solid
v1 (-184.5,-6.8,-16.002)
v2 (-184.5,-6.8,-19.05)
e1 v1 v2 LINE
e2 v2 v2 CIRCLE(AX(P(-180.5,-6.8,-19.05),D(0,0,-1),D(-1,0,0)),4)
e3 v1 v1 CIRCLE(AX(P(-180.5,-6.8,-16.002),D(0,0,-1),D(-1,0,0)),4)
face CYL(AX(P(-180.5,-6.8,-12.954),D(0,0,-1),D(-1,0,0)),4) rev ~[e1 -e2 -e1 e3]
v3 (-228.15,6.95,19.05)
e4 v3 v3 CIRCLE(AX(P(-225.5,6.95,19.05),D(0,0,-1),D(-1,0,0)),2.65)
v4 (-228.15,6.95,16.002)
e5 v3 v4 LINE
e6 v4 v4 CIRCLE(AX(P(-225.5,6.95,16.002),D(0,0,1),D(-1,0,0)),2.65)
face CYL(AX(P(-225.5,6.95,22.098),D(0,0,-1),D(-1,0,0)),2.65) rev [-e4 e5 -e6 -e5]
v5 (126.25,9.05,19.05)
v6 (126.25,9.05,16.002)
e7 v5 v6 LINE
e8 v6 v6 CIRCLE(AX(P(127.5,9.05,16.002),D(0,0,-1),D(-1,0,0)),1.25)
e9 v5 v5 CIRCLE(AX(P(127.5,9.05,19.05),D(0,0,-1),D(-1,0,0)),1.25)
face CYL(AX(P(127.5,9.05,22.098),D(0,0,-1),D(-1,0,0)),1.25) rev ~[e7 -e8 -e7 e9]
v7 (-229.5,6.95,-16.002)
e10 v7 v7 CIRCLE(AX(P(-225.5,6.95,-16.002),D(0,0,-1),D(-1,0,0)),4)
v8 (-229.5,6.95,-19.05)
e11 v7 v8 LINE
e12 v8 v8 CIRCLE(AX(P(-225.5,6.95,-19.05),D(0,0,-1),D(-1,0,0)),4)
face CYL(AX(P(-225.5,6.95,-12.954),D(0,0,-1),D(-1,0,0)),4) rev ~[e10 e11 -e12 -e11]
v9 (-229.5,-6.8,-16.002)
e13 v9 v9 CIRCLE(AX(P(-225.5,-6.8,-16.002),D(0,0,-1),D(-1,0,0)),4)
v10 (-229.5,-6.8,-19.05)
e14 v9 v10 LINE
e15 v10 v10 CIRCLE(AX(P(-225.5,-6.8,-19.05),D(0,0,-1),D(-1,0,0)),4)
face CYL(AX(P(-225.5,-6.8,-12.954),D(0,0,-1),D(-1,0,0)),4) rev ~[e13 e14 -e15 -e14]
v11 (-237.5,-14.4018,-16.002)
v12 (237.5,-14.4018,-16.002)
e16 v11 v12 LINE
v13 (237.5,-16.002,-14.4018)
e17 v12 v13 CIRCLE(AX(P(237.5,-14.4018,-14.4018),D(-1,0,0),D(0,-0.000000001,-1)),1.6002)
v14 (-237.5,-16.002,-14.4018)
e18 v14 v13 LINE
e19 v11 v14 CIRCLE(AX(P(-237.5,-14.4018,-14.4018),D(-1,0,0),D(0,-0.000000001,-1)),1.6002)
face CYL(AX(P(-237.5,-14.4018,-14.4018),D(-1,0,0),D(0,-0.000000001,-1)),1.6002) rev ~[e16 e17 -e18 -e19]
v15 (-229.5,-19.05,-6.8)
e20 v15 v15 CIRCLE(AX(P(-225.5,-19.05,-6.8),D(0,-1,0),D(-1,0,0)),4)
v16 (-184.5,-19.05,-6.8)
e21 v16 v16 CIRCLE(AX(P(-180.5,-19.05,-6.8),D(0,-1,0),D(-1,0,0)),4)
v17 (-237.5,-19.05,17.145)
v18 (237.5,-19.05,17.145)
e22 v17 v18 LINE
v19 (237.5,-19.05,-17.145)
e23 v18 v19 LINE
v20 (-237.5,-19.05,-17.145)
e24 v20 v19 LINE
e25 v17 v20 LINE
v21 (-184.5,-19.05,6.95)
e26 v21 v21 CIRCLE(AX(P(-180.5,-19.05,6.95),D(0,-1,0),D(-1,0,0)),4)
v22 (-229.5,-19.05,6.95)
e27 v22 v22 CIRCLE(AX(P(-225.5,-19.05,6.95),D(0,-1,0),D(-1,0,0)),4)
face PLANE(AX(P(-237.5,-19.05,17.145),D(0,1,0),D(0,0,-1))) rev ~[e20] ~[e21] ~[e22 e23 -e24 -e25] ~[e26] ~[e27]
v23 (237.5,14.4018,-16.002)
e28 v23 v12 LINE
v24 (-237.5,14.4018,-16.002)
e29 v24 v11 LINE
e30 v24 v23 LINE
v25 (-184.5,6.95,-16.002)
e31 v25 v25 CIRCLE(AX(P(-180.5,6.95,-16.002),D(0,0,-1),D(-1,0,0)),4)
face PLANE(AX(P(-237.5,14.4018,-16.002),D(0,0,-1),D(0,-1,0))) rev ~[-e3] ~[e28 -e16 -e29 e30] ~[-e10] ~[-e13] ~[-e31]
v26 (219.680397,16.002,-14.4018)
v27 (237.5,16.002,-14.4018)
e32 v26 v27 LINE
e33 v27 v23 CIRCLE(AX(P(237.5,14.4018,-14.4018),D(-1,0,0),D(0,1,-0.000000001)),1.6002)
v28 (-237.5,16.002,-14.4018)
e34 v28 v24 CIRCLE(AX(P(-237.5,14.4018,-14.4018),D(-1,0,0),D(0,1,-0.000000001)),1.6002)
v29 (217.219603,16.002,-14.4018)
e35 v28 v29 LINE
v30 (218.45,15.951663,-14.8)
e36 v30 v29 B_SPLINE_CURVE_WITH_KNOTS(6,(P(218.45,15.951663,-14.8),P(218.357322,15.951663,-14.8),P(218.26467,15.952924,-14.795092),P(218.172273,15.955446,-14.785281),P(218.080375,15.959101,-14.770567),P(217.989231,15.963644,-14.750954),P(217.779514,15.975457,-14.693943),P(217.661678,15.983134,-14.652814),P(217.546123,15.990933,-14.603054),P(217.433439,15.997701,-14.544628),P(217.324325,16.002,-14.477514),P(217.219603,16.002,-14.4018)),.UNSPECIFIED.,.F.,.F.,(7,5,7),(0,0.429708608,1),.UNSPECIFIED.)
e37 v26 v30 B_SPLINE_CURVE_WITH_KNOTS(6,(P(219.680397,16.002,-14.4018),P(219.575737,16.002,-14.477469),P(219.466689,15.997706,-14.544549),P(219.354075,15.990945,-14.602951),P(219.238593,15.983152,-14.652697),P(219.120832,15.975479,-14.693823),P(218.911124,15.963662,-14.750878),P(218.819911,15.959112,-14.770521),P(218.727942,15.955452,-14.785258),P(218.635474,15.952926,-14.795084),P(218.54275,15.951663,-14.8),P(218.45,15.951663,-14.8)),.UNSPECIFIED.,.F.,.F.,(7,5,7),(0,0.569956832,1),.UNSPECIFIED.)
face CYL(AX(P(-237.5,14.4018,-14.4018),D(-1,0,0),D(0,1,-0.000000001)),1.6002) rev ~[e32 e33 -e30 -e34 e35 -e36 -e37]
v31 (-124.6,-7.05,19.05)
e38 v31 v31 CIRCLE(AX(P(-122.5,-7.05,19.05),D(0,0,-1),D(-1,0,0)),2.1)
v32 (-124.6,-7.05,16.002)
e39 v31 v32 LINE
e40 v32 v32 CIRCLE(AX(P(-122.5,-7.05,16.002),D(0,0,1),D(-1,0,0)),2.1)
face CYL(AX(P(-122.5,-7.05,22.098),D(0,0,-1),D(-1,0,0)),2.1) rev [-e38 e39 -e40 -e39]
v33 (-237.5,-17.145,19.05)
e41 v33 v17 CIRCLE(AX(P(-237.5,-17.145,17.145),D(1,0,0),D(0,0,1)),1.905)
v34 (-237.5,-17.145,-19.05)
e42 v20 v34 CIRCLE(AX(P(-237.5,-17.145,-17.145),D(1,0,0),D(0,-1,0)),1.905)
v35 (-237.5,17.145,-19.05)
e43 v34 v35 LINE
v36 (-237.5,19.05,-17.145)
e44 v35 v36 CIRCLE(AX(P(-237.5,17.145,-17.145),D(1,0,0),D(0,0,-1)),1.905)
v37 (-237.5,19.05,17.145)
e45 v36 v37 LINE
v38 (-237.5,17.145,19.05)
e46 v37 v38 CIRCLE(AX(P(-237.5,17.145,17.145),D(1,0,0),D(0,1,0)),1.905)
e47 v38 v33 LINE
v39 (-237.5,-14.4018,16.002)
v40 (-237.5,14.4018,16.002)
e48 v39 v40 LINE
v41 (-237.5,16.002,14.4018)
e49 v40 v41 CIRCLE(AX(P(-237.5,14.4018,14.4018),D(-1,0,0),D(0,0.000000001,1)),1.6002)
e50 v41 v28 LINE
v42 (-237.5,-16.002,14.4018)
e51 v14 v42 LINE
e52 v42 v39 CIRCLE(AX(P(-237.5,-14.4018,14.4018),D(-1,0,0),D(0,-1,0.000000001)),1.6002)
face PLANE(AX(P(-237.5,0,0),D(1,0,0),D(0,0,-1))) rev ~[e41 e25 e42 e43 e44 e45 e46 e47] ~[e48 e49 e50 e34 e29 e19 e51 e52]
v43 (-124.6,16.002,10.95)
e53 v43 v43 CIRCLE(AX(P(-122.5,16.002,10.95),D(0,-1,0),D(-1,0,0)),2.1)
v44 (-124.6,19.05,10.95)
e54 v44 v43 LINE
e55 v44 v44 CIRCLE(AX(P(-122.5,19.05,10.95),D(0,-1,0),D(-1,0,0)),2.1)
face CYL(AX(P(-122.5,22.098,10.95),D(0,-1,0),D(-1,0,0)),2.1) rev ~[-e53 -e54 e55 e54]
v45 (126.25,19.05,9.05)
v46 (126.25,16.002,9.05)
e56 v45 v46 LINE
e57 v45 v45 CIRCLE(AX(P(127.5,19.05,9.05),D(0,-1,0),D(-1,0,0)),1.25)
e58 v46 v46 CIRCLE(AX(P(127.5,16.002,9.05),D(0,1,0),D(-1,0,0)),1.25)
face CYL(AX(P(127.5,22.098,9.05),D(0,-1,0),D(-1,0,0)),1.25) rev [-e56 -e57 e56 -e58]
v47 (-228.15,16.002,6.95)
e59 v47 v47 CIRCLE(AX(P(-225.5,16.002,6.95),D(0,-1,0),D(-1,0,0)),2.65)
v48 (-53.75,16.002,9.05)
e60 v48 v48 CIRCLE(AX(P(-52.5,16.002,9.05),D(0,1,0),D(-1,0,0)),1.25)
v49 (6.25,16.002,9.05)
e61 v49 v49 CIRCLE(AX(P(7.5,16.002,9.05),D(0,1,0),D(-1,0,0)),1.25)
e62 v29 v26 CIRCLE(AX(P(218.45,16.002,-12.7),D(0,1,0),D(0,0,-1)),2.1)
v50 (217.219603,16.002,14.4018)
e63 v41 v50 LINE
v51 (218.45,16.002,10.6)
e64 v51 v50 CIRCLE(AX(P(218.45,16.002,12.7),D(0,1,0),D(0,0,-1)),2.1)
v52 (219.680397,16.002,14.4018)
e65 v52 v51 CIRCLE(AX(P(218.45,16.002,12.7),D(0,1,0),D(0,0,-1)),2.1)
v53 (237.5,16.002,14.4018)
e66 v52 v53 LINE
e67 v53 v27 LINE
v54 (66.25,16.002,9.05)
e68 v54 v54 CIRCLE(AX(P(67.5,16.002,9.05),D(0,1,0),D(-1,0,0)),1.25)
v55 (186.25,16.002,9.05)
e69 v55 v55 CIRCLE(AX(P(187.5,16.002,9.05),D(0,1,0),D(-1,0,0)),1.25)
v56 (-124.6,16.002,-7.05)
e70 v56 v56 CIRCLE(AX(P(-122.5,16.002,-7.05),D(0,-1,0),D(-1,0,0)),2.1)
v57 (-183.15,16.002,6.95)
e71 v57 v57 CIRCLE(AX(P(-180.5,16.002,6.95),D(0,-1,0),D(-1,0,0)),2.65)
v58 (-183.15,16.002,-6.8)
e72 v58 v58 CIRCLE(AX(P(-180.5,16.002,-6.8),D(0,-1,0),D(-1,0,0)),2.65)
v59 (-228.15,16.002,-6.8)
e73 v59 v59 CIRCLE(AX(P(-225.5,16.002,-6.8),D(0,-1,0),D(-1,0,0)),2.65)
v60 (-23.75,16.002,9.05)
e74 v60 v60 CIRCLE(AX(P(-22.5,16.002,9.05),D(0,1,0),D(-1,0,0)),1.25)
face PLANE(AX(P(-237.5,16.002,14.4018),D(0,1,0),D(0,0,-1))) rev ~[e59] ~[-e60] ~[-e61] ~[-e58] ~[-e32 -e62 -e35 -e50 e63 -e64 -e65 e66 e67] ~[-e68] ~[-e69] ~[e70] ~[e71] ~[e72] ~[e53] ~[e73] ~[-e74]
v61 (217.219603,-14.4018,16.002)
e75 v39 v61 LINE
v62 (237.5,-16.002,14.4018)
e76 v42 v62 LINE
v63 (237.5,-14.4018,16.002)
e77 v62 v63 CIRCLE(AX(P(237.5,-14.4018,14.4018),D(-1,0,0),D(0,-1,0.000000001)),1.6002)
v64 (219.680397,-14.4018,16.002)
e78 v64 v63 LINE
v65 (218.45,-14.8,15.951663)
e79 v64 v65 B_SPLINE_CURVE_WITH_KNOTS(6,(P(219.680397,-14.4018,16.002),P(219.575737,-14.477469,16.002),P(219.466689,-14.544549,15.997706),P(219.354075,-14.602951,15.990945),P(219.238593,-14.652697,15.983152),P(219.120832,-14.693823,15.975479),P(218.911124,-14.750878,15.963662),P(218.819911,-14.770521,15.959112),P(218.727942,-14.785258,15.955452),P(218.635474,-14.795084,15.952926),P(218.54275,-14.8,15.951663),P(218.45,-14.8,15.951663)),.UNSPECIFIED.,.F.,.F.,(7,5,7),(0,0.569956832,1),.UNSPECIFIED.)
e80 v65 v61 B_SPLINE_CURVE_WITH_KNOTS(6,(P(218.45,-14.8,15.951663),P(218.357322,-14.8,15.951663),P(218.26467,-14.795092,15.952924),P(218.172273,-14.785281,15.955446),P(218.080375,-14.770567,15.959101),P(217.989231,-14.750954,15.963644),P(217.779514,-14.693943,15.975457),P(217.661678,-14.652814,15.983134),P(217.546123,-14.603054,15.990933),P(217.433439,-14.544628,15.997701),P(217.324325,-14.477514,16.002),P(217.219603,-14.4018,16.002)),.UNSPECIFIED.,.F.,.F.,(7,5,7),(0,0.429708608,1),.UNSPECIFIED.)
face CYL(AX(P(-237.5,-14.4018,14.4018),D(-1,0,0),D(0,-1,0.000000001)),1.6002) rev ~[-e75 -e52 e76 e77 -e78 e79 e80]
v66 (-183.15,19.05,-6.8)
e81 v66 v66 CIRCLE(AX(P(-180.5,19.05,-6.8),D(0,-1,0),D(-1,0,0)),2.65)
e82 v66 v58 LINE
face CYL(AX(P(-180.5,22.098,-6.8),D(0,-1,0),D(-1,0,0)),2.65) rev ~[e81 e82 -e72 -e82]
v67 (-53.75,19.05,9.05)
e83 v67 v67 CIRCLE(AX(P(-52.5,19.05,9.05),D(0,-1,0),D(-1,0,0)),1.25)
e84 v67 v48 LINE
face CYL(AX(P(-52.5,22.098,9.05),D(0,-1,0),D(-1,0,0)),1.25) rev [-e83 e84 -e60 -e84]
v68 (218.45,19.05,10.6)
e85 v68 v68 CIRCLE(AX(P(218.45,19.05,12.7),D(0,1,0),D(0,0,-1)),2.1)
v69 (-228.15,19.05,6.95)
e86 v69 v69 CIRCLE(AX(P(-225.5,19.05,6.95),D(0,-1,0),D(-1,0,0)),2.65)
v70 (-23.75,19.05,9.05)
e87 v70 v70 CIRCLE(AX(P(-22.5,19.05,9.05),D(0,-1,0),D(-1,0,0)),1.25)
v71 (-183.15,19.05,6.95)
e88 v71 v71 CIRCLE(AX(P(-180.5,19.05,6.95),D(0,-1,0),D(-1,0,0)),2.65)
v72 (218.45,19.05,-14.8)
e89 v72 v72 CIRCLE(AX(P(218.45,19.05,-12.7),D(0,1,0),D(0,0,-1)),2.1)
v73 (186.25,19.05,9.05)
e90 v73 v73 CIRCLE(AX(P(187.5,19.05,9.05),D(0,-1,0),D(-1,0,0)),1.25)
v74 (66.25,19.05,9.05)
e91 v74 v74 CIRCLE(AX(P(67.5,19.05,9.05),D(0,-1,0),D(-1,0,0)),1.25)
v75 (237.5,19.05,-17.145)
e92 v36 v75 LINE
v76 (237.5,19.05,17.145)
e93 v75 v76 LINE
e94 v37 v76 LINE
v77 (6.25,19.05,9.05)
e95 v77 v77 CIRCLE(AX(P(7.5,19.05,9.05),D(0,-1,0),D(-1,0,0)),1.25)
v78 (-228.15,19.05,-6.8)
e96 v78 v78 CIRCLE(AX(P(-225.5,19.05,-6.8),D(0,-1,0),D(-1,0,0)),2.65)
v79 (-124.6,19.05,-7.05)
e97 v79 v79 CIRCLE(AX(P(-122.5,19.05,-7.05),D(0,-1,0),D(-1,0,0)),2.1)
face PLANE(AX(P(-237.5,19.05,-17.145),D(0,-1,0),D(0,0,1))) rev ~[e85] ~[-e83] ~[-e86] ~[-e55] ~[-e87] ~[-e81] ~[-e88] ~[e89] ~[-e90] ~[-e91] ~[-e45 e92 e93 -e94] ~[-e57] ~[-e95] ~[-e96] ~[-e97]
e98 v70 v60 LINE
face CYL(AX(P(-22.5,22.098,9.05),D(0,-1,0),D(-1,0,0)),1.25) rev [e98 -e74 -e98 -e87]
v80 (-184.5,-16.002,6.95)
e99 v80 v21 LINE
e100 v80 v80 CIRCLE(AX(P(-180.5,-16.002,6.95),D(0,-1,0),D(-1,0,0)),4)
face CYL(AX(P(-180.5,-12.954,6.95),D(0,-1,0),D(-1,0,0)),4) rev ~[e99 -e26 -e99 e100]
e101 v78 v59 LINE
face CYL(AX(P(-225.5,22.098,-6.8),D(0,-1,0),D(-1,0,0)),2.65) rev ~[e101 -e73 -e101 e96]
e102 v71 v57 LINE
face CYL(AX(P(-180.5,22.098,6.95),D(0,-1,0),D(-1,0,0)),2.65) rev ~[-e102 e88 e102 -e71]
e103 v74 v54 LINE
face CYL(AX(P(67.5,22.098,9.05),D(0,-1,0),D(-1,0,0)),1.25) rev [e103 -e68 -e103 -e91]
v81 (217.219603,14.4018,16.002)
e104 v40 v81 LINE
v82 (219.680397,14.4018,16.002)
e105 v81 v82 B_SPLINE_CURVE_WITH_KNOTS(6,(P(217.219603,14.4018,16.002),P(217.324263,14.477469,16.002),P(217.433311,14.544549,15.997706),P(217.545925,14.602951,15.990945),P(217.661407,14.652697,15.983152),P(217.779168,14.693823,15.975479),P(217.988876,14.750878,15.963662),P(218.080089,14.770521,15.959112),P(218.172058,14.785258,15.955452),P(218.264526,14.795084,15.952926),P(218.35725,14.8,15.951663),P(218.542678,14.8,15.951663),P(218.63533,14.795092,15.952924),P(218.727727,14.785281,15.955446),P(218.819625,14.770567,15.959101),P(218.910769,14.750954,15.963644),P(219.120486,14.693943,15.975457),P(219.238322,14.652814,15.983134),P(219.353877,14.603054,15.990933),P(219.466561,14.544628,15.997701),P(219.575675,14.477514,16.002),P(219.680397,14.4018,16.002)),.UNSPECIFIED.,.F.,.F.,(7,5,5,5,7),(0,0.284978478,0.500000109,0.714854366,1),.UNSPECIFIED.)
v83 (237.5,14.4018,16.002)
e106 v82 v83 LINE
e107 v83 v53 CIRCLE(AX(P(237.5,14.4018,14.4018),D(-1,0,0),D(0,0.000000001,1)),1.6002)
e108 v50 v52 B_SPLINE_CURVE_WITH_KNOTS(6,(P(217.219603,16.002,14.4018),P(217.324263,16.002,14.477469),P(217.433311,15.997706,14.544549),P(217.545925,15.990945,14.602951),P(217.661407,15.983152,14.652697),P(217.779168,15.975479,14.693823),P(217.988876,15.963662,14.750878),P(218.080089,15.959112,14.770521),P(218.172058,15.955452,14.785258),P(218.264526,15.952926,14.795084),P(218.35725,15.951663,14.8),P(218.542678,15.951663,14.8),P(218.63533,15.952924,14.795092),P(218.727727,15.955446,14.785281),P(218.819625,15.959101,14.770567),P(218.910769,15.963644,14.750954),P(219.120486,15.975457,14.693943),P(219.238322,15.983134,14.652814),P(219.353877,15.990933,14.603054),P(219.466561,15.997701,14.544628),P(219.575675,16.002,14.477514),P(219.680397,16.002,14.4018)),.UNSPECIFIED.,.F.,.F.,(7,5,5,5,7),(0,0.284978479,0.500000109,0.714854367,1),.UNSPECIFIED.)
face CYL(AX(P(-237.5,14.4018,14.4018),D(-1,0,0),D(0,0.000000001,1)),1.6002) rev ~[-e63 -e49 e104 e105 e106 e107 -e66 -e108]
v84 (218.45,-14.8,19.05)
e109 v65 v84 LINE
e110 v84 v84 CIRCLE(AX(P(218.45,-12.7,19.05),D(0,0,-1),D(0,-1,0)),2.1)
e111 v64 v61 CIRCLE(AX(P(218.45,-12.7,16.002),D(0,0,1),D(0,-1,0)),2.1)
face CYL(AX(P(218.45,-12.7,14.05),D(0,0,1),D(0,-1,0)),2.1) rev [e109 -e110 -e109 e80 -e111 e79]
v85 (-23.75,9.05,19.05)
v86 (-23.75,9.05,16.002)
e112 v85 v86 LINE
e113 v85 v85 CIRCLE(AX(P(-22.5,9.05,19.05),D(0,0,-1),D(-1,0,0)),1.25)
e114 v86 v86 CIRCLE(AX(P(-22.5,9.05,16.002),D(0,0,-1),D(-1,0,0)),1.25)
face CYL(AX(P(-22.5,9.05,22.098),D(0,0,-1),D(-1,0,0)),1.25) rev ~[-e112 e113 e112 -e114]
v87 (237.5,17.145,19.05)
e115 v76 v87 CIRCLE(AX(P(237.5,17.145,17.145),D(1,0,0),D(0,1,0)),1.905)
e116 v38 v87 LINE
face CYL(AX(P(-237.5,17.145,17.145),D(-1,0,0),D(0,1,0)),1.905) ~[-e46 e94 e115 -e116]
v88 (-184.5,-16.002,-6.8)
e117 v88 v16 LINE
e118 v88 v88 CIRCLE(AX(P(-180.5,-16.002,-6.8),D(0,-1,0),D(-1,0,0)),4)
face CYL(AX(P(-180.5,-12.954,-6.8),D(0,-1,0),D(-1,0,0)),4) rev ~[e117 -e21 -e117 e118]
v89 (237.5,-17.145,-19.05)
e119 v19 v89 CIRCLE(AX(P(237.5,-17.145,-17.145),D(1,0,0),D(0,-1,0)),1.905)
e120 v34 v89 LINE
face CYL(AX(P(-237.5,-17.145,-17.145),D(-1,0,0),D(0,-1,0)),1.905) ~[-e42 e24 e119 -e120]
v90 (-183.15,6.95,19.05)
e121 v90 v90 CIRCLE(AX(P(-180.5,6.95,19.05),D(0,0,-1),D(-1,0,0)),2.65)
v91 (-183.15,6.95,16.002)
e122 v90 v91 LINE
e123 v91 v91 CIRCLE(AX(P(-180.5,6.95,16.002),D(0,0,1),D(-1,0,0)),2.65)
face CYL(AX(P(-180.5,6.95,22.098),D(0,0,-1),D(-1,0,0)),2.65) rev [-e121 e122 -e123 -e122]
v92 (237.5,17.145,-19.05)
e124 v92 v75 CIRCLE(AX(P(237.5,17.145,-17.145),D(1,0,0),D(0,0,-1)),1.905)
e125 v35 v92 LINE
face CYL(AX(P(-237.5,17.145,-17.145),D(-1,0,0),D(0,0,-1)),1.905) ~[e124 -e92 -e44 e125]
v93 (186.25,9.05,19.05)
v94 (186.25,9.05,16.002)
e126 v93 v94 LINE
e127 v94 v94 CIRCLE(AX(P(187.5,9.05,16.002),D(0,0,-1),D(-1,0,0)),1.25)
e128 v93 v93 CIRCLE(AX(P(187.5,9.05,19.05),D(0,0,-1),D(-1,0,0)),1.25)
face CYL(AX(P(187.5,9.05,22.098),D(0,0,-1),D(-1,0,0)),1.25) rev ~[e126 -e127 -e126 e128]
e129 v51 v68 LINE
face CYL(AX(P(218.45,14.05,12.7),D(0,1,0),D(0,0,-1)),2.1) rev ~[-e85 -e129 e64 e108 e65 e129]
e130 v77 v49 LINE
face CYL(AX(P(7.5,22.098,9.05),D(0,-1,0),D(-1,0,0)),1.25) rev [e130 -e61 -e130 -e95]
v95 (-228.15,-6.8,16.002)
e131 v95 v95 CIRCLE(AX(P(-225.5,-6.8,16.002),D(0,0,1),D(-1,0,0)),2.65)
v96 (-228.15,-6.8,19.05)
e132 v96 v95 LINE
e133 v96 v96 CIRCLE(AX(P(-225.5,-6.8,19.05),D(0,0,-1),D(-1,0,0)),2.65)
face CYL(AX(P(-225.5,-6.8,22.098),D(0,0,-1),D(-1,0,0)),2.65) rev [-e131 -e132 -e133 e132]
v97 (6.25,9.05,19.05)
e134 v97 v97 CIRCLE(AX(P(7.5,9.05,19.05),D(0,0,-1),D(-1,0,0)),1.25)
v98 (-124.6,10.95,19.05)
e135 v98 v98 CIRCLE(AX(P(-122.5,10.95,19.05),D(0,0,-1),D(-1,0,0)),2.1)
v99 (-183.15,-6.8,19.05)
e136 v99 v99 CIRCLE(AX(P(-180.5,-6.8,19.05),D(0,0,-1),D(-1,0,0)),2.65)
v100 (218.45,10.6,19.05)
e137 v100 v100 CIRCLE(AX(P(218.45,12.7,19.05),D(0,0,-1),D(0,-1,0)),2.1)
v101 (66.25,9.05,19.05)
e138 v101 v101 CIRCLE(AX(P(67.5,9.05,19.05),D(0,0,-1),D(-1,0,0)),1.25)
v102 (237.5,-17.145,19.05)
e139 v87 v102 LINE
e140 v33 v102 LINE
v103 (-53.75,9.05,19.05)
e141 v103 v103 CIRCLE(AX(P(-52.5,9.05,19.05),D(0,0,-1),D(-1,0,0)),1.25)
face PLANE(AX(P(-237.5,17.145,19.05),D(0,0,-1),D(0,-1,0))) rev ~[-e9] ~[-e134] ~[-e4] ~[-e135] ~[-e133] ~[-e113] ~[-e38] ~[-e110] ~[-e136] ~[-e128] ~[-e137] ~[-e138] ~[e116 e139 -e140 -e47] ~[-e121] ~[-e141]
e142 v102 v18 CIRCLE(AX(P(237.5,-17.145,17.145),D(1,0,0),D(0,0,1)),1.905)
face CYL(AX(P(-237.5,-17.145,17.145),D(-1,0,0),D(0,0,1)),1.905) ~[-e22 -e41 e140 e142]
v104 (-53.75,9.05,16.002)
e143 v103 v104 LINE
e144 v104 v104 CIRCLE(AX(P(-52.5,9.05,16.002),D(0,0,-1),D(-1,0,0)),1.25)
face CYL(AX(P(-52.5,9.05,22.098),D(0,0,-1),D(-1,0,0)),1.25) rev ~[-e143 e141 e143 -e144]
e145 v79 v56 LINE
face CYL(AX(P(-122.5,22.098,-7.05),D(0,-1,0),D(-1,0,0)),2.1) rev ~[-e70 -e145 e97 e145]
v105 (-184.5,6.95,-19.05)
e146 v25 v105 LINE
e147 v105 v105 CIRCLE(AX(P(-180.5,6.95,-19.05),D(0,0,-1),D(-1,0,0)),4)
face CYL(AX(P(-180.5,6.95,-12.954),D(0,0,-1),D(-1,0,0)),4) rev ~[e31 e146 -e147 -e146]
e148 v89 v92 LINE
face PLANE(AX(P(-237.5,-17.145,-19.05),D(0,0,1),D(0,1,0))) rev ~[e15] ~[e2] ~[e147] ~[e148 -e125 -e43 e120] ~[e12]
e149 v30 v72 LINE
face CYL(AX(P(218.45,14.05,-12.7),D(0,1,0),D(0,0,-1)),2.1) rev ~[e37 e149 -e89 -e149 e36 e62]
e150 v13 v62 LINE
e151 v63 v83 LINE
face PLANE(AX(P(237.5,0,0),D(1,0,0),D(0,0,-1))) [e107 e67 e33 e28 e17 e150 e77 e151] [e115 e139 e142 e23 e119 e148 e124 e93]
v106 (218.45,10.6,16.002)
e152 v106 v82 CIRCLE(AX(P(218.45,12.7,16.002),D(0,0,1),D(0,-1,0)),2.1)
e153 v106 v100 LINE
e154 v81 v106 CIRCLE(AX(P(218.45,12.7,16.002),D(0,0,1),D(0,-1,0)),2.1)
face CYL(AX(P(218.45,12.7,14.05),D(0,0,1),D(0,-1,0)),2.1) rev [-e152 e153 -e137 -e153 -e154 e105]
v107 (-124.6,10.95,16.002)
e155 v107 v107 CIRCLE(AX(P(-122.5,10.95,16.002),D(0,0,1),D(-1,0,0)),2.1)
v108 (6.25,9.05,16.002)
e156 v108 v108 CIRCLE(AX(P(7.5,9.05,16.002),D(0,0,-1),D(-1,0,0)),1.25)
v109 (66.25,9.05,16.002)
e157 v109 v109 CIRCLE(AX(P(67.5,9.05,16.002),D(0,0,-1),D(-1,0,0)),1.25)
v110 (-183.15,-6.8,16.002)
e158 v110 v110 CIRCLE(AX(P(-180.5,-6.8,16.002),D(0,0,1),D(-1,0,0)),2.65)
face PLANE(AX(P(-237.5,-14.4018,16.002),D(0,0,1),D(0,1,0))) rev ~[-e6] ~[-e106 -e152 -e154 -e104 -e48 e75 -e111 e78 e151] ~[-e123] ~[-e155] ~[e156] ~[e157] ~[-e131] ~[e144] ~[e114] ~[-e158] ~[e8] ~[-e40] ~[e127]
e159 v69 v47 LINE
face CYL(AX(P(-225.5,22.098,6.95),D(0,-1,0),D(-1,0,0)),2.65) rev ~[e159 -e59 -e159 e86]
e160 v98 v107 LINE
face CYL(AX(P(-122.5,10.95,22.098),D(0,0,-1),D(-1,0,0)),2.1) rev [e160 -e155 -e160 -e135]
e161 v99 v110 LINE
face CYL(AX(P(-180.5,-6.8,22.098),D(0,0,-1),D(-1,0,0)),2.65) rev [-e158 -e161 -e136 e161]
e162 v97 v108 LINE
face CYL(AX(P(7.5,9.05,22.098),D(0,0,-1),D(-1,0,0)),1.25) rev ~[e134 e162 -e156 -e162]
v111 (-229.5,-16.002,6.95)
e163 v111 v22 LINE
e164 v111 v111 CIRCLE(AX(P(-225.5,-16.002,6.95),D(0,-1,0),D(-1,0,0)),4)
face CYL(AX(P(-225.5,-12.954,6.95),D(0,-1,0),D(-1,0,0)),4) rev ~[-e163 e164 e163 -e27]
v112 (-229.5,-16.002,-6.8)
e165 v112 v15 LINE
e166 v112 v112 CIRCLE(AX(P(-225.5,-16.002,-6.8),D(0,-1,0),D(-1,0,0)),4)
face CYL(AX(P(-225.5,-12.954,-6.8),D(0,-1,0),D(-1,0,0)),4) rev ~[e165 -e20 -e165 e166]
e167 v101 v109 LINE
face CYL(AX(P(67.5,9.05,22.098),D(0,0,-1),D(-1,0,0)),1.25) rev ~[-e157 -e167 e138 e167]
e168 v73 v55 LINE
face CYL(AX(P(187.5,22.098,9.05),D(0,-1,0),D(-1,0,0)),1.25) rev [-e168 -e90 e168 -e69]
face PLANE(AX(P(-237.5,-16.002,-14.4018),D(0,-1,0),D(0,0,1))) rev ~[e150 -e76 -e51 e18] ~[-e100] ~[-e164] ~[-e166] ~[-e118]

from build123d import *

# Parameters (mm, degrees)
BOSS_EXTRUDE1_DEPTH                  = 237.5
BOSS_EXTRUDE1_DEPTH_BACK             = 237.5
TAP_DRILL_FOR_M5X0_8_TAP1_D          = 4.2
TAP_DRILL_FOR_M5X0_8_TAP1_DEPTH      = 3.048
TAP_DRILL_FOR_M3X0_5_TAP1_D          = 2.5
TAP_DRILL_FOR_M3X0_5_TAP1_DEPTH      = 3.048
TAP_DRILL_FOR_M5X0_8_TAP2_AT_2_COUNT = 2
TAP_DRILL_FOR_M5X0_8_TAP2_AT_2_PITCH = 25.4
M5_CLEARANCE_HOLE1_D                 = 5.3
M5_CLEARANCE_HOLE1_DEPTH             = 3.048
F_8_0_8_DIAMETER_HOLE1_D             = 8
F_8_0_8_DIAMETER_HOLE1_DEPTH         = 3.048
F_8_0_8_DIAMETER_HOLE2_D             = 8
F_8_0_8_DIAMETER_HOLE2_DEPTH         = 3.048


with BuildPart() as part:
    # Sketch4 → Boss-Extrude1 (new, two sides: drawn at the far end of the back side and taken through both)
    with BuildSketch(Plane(origin=(0, 0, 0), x_dir=(0, 0, -1), z_dir=(1, 0, 0)).offset(-BOSS_EXTRUDE1_DEPTH_BACK)):
        with BuildLine():
            Line((19.05, -17.145), (19.05, 17.145))
            ThreePointArc((19.05, 17.145), (18.492038418, 18.492038418), (17.145, 19.05))
            Line((17.145, 19.05), (-17.145, 19.05))
            ThreePointArc((-17.145, 19.05), (-18.492038418, 18.492038418), (-19.05, 17.145))
            Line((-19.05, 17.145), (-19.05, -17.145))
            ThreePointArc((-19.05, -17.145), (-18.492038418, -18.492038418), (-17.145, -19.05))
            Line((-17.145, -19.05), (17.145, -19.05))
            ThreePointArc((17.145, -19.05), (18.492038418, -18.492038418), (19.05, -17.145))
        make_face()
        with BuildLine():
            Line((16.002, 14.4018), (16.002, -14.4018))
            ThreePointArc((16.002, -14.4018), (15.533312271, -15.533312271), (14.4018, -16.002))
            Line((14.4018, -16.002), (-14.4018, -16.002))
            ThreePointArc((-14.4018, -16.002), (-15.533312271, -15.533312271), (-16.002, -14.4018))
            Line((-16.002, -14.4018), (-16.002, 14.4018))
            ThreePointArc((-16.002, 14.4018), (-15.533312271, 15.533312271), (-14.4018, 16.002))
            Line((-14.4018, 16.002), (14.4018, 16.002))
            ThreePointArc((14.4018, 16.002), (15.533312271, 15.533312271), (16.002, 14.4018))
        make_face(mode=Mode.SUBTRACT)
    extrude(amount=BOSS_EXTRUDE1_DEPTH + BOSS_EXTRUDE1_DEPTH_BACK)

    # Tap Drill for M5x0.8 Tap1
    with Locations(Plane(origin=(0, 19.05, 0), x_dir=(1, 0, 0), z_dir=(0, 1, 0))):
        with Locations((-122.5, 7.05), (-122.5, -10.95)):
            tap_drill_for_m5x0_8_tap1 = Hole(TAP_DRILL_FOR_M5X0_8_TAP1_D / 2, depth=TAP_DRILL_FOR_M5X0_8_TAP1_DEPTH)

    # Tap Drill for M3x0.5 Tap1
    with Locations(Plane.XY.offset(19.05)):
        with Locations((187.5, 9.05), (127.5, 9.05), (67.5, 9.05), (7.5, 9.05), (-52.5, 9.05), (-22.5, 9.05)):
            tap_drill_for_m3x0_5_tap1 = Hole(TAP_DRILL_FOR_M3X0_5_TAP1_D / 2, depth=TAP_DRILL_FOR_M3X0_5_TAP1_DEPTH)

    # Sketch22 → Tap Drill for M5x0.8 Tap2 (revolve, cut)
    with BuildSketch(Plane(origin=(218.45, 12.7, 19.05), x_dir=(0, -1, 0), z_dir=(1, 0, 0))):
        Polygon((0, 0), (0, 6.2618073), (2.1, 5), (2.1, 0), align=None)
    tap_drill_for_m5x0_8_tap2 = revolve(axis=Axis((218.45, 12.7, 25.4), (0, 0, -1)), mode=Mode.SUBTRACT)

    # Tap Drill for M5x0.8 Tap2 at 2: Tap Drill for M5x0.8 Tap2 ×2
    with Locations(*[(0, -i * TAP_DRILL_FOR_M5X0_8_TAP2_AT_2_PITCH, 0) for i in range(1, TAP_DRILL_FOR_M5X0_8_TAP2_AT_2_COUNT)]):
        add(tap_drill_for_m5x0_8_tap2, mode=Mode.SUBTRACT)

    # Mirror1: Tap Drill for M5x0.8 Tap1, Tap Drill for M3x0.5 Tap1, Tap Drill for M5x0.8 Tap2 across plane
    add(tap_drill_for_m5x0_8_tap1.mirror(Plane(origin=(0, 0, 0), x_dir=(0, 0.7071067811865478, 0.7071067811865472), z_dir=(0, -0.7071067811865475, 0.7071067811865477))), mode=Mode.SUBTRACT)
    add(tap_drill_for_m3x0_5_tap1.mirror(Plane(origin=(0, 0, 0), x_dir=(0, 0.7071067811865478, 0.7071067811865472), z_dir=(0, -0.7071067811865475, 0.7071067811865477))), mode=Mode.SUBTRACT)
    add(tap_drill_for_m5x0_8_tap2.mirror(Plane(origin=(0, 0, 0), x_dir=(0, 0.7071067811865478, 0.7071067811865472), z_dir=(0, -0.7071067811865475, 0.7071067811865477))), mode=Mode.SUBTRACT)

    # Mirror1 copy 1 sketch → Mirror1 copy 1 (revolve, cut)
    with BuildSketch(Plane(origin=(218.45, 19.05, -12.7), x_dir=(0, 0, -1), z_dir=(1, 0, 0))):
        Polygon((0, 0), (0, -6.2618073), (2.1, -5), (2.1, 0), align=None)
    revolve(axis=Axis((218.45, 25.4, -12.7), (0, 1, 0)), mode=Mode.SUBTRACT)

    # M5 Clearance Hole1
    with Locations(Plane(origin=(0, 19.05, 0), x_dir=(1, 0, 0), z_dir=(0, 1, 0))):
        with Locations((-225.5, 6.8), (-225.5, -6.95), (-180.5, -6.95), (-180.5, 6.8)):
            m5_clearance_hole1 = Hole(M5_CLEARANCE_HOLE1_D / 2, depth=M5_CLEARANCE_HOLE1_DEPTH)

    # Mirror2: M5 Clearance Hole1 across plane
    add(m5_clearance_hole1.mirror(Plane(origin=(0, 0, 0), x_dir=(0, 0.7071067811865478, 0.7071067811865472), z_dir=(0, -0.7071067811865475, 0.7071067811865477))), mode=Mode.SUBTRACT)

    # Ø8.0 (8) Diameter Hole1
    with Locations(Plane.XY.offset(-16.002)):
        with Locations((-225.5, -6.8), (-225.5, 6.95), (-180.5, 6.95), (-180.5, -6.8)):
            Hole(F_8_0_8_DIAMETER_HOLE1_D / 2, depth=F_8_0_8_DIAMETER_HOLE1_DEPTH)

    # Ø8.0 (8) Diameter Hole2
    with Locations(Plane(origin=(0, -16.002, 0), x_dir=(1, 0, 0), z_dir=(0, 1, 0))):
        with Locations((-225.5, 6.8), (-225.5, -6.95), (-180.5, -6.95), (-180.5, 6.8)):
            Hole(F_8_0_8_DIAMETER_HOLE2_D / 2, depth=F_8_0_8_DIAMETER_HOLE2_DEPTH)


solid = part.part
